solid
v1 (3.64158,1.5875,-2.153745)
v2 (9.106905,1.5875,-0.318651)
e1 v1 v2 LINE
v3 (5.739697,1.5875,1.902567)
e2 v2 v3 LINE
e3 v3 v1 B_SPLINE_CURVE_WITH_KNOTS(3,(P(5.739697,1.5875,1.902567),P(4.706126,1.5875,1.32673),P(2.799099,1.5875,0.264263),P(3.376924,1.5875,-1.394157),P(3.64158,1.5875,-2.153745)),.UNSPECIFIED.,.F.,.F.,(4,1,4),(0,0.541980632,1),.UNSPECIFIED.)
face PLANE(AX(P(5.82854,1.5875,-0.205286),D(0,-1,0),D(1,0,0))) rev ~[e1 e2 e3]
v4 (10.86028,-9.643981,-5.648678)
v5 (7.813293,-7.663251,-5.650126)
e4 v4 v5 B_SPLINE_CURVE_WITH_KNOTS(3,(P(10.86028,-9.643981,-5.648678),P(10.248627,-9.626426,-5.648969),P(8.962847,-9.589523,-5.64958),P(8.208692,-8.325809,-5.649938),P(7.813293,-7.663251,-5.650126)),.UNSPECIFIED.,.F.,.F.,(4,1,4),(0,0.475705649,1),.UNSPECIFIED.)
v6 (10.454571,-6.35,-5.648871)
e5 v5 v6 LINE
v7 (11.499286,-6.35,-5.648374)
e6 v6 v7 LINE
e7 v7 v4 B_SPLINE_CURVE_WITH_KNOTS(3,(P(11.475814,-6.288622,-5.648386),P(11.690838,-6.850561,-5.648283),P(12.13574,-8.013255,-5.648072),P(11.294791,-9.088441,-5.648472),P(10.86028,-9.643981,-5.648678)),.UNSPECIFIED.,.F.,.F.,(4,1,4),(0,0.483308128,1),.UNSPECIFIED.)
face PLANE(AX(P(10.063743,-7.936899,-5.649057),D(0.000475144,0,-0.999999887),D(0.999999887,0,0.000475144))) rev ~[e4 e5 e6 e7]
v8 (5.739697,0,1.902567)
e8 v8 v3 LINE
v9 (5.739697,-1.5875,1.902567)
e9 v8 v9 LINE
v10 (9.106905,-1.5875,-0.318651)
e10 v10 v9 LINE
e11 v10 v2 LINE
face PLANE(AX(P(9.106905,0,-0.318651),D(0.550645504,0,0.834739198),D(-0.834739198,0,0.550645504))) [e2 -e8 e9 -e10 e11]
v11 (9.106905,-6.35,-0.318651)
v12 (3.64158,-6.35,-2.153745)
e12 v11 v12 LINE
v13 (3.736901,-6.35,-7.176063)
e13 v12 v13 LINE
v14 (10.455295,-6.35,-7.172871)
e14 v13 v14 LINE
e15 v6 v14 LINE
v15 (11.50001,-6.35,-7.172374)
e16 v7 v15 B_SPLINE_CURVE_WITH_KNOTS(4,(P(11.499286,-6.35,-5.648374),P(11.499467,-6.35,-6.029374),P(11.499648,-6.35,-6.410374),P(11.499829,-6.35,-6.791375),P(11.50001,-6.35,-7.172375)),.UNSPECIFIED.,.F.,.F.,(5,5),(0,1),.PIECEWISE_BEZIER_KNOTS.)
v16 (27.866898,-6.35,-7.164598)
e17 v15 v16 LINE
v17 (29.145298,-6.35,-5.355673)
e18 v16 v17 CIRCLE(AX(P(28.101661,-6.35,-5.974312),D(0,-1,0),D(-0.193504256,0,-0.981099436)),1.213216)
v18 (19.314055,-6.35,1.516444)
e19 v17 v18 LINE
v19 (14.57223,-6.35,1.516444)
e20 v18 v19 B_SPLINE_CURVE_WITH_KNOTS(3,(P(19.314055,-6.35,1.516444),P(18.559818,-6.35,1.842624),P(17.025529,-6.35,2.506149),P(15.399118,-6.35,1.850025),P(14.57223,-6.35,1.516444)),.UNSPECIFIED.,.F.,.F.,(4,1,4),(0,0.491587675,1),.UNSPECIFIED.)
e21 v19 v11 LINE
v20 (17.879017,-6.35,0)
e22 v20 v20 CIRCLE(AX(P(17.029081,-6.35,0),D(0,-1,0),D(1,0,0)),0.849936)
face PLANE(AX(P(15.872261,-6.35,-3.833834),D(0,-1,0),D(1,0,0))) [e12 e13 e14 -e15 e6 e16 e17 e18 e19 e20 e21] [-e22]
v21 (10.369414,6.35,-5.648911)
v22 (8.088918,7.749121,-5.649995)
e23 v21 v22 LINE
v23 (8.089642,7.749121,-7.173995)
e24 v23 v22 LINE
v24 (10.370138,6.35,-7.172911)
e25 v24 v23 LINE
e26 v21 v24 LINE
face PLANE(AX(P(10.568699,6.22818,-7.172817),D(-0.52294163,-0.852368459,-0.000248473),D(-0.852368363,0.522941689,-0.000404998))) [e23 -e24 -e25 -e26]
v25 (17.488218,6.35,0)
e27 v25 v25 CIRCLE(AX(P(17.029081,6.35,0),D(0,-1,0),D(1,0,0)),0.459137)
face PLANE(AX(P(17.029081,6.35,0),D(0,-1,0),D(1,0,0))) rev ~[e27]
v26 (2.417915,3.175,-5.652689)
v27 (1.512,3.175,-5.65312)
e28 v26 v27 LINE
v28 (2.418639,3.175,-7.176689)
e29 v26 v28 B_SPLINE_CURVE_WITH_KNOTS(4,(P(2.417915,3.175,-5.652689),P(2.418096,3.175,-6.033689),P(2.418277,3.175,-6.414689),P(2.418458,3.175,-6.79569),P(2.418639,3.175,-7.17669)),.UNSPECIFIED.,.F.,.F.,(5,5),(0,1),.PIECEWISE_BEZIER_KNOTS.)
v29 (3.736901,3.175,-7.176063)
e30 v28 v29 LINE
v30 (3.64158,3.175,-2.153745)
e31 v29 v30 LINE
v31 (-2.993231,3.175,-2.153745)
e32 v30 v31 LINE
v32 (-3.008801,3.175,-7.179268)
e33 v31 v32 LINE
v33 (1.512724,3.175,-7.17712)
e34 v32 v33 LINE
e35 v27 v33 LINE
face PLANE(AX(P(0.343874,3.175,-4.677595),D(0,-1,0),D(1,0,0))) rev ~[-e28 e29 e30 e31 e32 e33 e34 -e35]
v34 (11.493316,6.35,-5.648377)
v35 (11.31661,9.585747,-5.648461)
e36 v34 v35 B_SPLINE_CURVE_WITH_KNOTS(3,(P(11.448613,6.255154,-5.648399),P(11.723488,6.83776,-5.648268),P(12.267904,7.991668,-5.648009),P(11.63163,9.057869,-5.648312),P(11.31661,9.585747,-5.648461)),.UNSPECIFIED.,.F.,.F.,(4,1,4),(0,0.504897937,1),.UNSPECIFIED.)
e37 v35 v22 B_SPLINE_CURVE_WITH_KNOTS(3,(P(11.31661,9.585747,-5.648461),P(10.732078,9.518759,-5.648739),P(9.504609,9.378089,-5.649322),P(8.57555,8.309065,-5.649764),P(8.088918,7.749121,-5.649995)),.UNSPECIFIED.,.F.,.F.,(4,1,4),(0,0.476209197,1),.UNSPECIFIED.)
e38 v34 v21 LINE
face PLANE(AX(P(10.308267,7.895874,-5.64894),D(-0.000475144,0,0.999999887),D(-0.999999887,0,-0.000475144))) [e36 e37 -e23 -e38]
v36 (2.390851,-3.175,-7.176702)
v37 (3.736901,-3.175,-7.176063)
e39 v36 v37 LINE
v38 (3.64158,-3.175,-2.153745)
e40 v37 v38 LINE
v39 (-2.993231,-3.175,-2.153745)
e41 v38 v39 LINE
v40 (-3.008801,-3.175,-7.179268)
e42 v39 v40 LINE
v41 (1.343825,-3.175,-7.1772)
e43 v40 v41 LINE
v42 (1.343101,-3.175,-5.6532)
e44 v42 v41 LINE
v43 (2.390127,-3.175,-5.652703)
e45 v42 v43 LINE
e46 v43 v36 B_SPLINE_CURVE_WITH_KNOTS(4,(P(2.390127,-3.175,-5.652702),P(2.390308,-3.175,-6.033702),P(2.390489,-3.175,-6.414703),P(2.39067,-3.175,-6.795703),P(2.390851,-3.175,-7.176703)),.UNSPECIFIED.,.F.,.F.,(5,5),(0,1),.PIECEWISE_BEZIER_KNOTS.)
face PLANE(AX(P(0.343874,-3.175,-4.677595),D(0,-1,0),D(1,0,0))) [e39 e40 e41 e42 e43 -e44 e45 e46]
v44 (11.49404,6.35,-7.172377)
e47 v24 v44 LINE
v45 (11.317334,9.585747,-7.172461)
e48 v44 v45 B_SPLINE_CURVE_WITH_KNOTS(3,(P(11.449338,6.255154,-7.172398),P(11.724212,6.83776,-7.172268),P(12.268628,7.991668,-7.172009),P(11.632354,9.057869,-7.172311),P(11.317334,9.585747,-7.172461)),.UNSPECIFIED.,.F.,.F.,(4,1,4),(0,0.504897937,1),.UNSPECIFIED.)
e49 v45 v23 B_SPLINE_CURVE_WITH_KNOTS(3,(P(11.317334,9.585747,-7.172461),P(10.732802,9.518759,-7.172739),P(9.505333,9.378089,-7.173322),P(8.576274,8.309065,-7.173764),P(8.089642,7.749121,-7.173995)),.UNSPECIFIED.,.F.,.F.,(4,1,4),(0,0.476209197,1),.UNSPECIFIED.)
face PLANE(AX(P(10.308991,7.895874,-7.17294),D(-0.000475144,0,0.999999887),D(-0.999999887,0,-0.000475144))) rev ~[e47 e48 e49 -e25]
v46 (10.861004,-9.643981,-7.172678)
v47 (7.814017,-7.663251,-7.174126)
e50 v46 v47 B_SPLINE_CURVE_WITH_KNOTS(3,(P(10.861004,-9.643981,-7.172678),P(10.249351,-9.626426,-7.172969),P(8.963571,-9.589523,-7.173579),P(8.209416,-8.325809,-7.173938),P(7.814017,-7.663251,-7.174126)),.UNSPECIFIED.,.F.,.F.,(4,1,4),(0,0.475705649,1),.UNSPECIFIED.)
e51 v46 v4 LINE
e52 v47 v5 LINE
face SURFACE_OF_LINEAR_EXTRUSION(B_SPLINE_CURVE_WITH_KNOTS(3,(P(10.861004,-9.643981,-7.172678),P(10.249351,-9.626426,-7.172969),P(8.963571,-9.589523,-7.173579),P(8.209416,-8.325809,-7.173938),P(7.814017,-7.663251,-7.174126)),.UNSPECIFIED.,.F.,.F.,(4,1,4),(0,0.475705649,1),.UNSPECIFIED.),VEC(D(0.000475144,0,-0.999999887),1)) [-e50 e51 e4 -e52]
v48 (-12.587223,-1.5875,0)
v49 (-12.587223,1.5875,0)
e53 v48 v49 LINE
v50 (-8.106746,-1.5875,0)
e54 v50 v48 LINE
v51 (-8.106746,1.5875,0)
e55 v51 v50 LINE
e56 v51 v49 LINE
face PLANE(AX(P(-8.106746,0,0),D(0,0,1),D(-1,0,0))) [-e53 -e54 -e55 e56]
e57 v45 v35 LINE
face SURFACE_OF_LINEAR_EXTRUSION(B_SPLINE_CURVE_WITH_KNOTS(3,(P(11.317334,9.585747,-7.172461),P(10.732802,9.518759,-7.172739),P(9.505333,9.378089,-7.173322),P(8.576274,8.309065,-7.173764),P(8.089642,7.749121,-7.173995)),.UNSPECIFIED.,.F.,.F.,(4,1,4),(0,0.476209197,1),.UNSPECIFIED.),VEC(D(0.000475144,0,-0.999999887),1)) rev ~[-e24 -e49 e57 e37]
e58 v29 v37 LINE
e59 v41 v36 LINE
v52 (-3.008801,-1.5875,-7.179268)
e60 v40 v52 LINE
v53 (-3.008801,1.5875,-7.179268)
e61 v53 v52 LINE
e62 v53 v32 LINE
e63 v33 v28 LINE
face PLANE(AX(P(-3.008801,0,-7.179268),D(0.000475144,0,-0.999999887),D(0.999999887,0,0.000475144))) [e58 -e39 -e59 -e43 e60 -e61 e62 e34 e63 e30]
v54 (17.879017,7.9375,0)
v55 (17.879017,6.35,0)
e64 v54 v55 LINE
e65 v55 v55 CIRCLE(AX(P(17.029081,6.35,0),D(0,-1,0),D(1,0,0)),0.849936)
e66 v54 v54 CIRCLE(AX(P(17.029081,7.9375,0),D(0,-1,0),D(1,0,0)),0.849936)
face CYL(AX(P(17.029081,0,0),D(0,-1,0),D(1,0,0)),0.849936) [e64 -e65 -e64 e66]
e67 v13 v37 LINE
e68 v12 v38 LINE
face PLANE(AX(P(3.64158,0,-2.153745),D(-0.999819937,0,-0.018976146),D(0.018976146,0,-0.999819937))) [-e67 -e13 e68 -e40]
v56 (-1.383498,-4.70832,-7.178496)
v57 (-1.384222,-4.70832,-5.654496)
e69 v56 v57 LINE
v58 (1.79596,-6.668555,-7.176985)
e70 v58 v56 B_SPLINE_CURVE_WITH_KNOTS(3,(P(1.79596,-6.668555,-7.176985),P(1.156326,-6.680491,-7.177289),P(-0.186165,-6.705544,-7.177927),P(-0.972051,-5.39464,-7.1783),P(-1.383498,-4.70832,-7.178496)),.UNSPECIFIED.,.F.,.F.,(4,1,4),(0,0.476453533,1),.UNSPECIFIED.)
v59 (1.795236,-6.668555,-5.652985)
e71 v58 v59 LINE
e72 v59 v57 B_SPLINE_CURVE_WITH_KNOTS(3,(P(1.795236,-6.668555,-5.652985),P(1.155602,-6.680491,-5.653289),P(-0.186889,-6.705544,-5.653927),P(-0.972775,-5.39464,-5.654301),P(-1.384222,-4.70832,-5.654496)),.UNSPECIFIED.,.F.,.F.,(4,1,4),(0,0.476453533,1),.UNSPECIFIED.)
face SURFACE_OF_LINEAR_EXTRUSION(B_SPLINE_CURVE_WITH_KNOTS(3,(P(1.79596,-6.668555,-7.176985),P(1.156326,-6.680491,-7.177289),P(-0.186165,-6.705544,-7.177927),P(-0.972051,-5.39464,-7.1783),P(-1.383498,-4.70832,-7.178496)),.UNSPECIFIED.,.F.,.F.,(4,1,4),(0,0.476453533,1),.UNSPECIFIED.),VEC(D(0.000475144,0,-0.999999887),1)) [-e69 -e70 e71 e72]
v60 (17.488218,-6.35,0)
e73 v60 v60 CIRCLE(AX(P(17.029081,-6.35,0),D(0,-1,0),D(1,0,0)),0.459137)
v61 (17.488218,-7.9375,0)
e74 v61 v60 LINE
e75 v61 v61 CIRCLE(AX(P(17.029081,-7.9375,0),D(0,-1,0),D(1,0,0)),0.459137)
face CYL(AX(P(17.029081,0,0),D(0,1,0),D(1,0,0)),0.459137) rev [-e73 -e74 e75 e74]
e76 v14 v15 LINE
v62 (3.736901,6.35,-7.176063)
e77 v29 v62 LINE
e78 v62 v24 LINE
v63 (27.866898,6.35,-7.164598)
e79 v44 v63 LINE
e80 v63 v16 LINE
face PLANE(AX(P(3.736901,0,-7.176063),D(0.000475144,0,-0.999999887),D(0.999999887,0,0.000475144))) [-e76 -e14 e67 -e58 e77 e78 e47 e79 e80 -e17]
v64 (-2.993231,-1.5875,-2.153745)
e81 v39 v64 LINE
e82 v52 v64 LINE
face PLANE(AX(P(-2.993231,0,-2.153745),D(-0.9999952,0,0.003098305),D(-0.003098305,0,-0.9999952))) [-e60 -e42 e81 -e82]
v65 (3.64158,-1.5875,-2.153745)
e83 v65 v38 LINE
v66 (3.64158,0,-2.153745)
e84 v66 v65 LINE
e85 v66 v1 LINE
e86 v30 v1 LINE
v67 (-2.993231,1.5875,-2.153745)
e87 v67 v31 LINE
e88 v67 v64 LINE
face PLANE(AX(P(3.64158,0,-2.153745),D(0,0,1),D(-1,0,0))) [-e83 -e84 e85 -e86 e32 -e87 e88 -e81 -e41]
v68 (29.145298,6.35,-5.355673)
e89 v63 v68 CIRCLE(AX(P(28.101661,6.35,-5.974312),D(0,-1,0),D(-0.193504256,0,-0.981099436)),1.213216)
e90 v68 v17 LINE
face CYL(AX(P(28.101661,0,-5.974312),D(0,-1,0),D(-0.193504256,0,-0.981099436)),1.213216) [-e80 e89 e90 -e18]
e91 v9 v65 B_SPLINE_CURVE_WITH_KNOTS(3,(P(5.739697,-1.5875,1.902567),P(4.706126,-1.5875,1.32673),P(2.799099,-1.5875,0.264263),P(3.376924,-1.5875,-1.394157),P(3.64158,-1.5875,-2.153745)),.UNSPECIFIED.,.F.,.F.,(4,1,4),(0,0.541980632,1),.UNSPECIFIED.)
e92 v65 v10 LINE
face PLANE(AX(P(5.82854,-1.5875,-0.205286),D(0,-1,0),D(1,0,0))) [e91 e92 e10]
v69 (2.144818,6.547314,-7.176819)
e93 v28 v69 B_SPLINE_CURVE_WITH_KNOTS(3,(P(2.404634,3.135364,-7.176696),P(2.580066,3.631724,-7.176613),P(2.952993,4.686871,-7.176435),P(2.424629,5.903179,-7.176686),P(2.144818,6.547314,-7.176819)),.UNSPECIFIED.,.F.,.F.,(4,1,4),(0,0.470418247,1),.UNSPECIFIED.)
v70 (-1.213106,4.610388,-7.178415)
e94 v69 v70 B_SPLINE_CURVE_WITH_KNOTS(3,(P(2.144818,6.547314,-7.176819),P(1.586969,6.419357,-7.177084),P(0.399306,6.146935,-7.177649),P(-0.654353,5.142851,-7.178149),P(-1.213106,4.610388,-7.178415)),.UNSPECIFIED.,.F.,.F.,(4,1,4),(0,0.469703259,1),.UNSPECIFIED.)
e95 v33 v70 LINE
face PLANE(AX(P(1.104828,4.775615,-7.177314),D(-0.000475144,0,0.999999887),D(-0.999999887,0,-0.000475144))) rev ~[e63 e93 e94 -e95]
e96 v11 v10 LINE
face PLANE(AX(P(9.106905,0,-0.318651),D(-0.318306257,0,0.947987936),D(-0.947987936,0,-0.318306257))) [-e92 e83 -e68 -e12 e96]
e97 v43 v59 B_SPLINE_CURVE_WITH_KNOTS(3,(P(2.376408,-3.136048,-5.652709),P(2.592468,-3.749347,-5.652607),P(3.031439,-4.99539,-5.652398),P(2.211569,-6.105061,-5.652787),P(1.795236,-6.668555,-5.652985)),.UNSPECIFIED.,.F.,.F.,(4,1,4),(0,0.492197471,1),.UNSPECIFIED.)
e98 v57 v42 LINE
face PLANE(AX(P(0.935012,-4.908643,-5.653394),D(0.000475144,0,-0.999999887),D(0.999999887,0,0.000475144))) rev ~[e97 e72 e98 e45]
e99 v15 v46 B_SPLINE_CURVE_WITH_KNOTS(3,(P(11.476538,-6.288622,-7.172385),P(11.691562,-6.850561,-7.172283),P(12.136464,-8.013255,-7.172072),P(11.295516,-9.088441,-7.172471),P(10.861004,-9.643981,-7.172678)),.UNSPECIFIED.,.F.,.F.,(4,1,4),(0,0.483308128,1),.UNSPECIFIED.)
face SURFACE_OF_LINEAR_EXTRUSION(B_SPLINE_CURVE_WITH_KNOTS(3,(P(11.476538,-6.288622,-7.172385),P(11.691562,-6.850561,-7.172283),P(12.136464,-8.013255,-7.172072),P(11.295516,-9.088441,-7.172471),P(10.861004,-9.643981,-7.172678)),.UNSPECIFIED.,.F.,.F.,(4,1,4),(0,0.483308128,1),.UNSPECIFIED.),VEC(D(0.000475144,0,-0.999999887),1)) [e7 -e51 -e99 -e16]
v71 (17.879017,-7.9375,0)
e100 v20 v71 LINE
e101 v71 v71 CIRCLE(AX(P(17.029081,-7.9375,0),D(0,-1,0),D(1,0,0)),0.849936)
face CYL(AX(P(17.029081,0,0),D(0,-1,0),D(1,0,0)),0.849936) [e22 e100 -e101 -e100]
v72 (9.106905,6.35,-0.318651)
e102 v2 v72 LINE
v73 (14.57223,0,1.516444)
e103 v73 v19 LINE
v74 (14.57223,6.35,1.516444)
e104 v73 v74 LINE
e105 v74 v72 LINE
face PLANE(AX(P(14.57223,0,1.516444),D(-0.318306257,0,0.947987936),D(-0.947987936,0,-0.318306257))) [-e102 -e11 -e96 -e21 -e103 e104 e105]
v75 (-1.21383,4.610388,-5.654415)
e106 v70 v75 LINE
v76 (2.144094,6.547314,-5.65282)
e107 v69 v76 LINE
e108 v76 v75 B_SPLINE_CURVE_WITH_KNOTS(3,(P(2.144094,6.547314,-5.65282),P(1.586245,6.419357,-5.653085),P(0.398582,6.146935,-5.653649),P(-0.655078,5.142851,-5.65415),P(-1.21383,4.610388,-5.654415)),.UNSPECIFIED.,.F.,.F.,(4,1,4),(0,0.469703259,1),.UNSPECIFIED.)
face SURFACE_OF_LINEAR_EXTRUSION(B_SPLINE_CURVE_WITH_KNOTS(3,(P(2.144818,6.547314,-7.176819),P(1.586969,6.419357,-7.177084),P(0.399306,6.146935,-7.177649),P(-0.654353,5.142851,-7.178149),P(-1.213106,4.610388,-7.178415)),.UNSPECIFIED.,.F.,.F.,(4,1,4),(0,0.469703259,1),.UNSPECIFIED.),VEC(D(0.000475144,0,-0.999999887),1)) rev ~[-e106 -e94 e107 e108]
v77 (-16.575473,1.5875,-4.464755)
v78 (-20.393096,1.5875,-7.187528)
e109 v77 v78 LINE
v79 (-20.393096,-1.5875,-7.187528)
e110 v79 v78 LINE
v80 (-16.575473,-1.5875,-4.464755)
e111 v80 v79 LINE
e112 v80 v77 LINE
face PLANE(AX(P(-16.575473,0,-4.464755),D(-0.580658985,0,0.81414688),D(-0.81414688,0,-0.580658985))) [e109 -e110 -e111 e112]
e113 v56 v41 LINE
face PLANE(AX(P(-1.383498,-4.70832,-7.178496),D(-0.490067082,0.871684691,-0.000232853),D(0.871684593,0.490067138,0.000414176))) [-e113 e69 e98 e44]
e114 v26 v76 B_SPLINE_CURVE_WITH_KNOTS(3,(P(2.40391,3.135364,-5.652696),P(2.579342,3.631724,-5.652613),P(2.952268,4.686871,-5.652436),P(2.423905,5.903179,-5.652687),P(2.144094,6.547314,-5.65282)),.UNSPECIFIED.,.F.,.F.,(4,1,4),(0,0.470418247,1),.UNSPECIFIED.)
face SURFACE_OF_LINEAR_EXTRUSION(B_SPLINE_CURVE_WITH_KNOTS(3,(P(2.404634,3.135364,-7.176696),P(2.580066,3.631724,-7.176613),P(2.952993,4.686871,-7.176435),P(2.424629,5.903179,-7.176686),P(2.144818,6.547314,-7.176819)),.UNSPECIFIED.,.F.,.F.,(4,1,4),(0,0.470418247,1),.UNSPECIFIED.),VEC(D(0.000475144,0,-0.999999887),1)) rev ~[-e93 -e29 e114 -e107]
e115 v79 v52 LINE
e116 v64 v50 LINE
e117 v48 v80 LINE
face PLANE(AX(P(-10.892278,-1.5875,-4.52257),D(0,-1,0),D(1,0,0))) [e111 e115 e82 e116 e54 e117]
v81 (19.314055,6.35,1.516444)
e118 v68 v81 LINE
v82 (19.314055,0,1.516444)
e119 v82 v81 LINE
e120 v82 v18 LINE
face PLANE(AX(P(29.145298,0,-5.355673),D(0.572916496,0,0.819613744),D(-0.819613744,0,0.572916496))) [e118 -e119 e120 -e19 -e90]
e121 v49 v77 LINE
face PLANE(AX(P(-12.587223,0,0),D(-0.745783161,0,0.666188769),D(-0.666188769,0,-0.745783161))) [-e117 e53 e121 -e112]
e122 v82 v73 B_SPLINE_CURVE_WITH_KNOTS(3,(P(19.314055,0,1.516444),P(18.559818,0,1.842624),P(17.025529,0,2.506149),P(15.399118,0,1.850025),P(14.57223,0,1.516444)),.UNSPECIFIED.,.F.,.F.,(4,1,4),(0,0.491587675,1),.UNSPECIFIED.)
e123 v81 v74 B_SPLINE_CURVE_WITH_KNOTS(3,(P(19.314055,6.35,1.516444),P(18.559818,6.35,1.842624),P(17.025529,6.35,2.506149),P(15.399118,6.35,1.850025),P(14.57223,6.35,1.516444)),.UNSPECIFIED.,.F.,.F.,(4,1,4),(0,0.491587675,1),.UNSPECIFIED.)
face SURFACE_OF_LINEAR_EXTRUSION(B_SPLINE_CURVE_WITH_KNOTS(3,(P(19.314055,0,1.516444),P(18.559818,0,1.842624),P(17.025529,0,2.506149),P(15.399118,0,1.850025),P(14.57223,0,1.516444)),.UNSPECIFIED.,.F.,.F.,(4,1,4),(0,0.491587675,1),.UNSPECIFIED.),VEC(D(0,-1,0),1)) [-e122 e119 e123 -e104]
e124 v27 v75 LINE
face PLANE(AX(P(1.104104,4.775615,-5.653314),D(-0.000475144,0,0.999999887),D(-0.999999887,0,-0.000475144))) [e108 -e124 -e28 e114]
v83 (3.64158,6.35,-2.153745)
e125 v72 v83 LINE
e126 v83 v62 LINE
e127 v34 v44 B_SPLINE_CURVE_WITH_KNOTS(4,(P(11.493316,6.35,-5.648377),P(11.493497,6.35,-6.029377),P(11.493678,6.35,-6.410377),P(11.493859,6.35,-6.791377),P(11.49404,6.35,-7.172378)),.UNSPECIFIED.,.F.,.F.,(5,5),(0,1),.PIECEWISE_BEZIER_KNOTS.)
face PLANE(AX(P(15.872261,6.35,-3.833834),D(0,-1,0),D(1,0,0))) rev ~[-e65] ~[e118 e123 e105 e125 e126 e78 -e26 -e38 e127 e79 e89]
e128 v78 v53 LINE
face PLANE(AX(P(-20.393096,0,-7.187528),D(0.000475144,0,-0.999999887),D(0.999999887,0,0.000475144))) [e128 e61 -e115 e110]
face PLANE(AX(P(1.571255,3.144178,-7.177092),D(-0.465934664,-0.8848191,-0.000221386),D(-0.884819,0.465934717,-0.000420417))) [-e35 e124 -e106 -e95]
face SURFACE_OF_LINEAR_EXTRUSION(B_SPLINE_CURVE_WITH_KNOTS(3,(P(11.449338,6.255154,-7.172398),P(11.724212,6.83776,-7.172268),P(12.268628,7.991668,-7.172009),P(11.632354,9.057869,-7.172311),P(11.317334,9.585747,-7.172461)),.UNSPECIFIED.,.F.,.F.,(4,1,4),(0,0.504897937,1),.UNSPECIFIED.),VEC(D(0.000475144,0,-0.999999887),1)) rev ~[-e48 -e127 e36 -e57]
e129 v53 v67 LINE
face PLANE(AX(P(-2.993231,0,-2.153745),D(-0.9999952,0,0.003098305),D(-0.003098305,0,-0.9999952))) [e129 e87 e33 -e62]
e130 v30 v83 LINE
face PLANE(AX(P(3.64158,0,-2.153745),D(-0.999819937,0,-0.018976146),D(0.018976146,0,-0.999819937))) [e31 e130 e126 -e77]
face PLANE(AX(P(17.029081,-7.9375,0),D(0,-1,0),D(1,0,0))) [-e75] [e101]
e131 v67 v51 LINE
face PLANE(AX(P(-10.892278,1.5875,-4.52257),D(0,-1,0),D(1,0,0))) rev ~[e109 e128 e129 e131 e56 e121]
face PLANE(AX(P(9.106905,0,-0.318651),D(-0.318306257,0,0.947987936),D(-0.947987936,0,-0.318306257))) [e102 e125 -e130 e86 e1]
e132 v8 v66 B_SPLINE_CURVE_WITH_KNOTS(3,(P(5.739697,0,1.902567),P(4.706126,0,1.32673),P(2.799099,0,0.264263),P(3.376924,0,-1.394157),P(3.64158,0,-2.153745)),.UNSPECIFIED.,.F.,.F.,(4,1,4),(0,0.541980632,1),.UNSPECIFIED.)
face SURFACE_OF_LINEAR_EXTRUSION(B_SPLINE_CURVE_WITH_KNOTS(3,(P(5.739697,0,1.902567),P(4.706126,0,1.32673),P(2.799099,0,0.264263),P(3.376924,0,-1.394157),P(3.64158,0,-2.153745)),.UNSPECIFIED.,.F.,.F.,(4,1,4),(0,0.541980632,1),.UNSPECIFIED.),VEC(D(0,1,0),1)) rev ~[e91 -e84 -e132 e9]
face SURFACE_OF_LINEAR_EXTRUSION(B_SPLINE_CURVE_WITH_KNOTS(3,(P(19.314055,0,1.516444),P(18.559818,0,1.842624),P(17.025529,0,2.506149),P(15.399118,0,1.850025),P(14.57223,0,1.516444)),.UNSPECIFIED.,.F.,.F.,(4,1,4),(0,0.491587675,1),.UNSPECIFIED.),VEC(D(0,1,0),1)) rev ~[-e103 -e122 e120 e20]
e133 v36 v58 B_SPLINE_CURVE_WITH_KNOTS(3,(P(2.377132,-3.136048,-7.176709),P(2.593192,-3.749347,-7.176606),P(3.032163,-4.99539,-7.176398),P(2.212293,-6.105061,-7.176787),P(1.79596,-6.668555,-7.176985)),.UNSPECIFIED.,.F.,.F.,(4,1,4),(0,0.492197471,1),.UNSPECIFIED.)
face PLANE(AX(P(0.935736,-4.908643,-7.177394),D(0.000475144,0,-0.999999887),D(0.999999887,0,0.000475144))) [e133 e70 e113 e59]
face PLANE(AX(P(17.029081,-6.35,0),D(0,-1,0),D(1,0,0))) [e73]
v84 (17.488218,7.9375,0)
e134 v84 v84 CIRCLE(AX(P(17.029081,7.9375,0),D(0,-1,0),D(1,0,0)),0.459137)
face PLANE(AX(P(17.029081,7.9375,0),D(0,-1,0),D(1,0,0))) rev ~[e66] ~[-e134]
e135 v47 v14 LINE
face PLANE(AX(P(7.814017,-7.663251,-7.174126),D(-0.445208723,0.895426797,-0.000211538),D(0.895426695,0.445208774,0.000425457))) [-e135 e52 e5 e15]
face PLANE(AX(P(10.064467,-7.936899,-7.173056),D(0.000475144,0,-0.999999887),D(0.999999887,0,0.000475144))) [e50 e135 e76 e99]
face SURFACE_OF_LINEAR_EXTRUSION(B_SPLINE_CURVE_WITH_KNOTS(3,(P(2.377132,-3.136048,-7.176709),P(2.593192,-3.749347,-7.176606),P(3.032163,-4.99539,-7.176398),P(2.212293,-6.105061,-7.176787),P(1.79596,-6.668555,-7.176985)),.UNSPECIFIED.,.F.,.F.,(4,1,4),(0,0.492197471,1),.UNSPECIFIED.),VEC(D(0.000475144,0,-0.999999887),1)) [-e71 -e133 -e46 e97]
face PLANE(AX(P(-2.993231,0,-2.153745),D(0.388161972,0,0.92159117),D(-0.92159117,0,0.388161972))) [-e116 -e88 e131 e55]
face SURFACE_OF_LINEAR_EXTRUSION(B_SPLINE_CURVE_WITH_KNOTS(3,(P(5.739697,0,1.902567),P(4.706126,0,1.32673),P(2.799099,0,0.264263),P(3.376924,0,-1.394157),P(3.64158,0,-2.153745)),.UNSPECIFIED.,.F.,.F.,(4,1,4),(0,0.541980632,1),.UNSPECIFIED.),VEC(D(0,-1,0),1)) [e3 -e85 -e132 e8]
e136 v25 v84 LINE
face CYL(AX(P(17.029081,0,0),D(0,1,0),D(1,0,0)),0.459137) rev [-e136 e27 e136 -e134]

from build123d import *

# Parameters (mm, degrees)
F0_R     = 0.8499357061
F1_DEPTH = 6.35
F2_DEPTH = 3.175
F3_DEPTH = 1.5875
F4_DEPTH = 1.5875
F0_R_2   = 0.4591365961
F5_DEPTH = 7.9375
F6_DEPTH = 6.35
F9_DEPTH = 1.524


with BuildPart() as f1:
    # F0 (on Front) → F1 (new body, symmetric)
    with BuildSketch(Plane.XZ):
        with BuildLine():
            Line((3.7369009076, -7.1760629105), (27.8668981838, -7.1645976751))
            ThreePointArc((27.8668981838, -7.1645976751), (29.0924289966, -6.6745059956), (29.1452982829, -5.3556730016))
            Line((29.1452982829, -5.3556730016), (19.3140551537, 1.5164437805))
            add(Edge.make_bspline(
                [(19.3140551537, 1.5164437805), (18.5598178705, 1.842624393), (17.0255294285, 2.5061492361), (15.3991179845, 1.8500253214), (14.5722303488, 1.5164437805)],
                knots=[0, 0, 0, 0, 0.4915876753, 1, 1, 1, 1], degree=3))
            Line((14.5722303488, 1.5164437805), (9.1069049254, -0.31865054))
            Line((9.1069049254, -0.31865054), (3.641579502, -2.1537448606))
            Line((3.641579502, -2.1537448606), (3.7369009076, -7.1760629105))
        make_face()
        with Locations((17.0290809923, 0)):
            Circle(F0_R, mode=Mode.SUBTRACT)
    extrude(amount=F1_DEPTH, both=True)

    # F0 (on Front) → F2 (join, symmetric)
    with BuildSketch(Plane.XZ):
        Polygon((-3.0088014841, -7.1792680938), (3.7369009076, -7.1760629105), (3.641579502, -2.1537448606), (-2.9932308073, -2.1537448606), align=None)
    extrude(amount=F2_DEPTH, both=True)

    # F0 (on Front) → F3 (join, symmetric)
    with BuildSketch(Plane.XZ):
        Polygon((-20.3930963686, -7.1875281459), (-3.0088014841, -7.1792680938), (-2.9932308073, -2.1537448606), (-8.1067462721, 0), (-12.5872229892, 0), (-16.5754726262, -4.4647546742), align=None)
    extrude(amount=F3_DEPTH, both=True)

    # F0 (on Front) → F4 (join, symmetric)
    with BuildSketch(Plane.XZ):
        with BuildLine():
            add(Edge.make_bspline(
                [(5.739697431, 1.9025673836), (4.7061257381, 1.3267304785), (2.7990985393, 0.2642627845), (3.3769243884, -1.3941566443), (3.641579502, -2.1537448606)],
                knots=[0, 0, 0, 0, 0.5419806321, 1, 1, 1, 1], degree=3))
            Line((3.641579502, -2.1537448606), (9.1069049254, -0.31865054))
            Line((9.1069049254, -0.31865054), (5.739697431, 1.9025673836))
        make_face()
    extrude(amount=F4_DEPTH, both=True)

    # F0 (on Front) → F5 (join, symmetric)
    with BuildSketch(Plane.XZ):
        with Locations((17.0290809923, 0)):
            Circle(F0_R)
        with Locations((17.0290809923, 0)):
            Circle(F0_R_2, mode=Mode.SUBTRACT)
    extrude(amount=F5_DEPTH, both=True)

    # F0 (on Front) → F6 (join, symmetric)
    with BuildSketch(Plane.XZ):
        with Locations((17.0290809923, 0)):
            Circle(F0_R_2)
    extrude(amount=F6_DEPTH, both=True)

    # F8 (on offset) → F9 (join)
    with BuildSketch(Plane(origin=(0.0034105097, 0, -7.1778368579), x_dir=(0.9999998871, 0, 0.0004751444), z_dir=(0.0004751444, 0, -0.9999998871))):
        with BuildLine():
            Line((10.5719827116, 6.2902872451), (11.4731285721, 6.2886215746))
            add(Edge.make_bspline(
                [(11.4731285721, 6.2886215746), (11.6881530578, 6.8505612185), (12.1330545046, 8.0132553954), (11.2921062686, 9.0884414112), (10.8575951308, 9.6439812332)],
                knots=[0, 0, 0, 0, 0.483308128, 1, 1, 1, 1], degree=3))
            add(Edge.make_bspline(
                [(10.8575951308, 9.6439812332), (10.2459421425, 9.6264263255), (8.9601619026, 9.5895234992), (8.2060067921, 8.3258092197), (7.8106075525, 7.6632509008)],
                knots=[0, 0, 0, 0, 0.4757056489, 1, 1, 1, 1], degree=3))
            Line((7.8106075525, 7.6632509008), (10.5719827116, 6.2902872451))
        make_face()
        with BuildLine():
            add(Edge.make_bspline(
                [(11.445928365, -6.2551540323), (11.7208028901, -6.8377598255), (12.2652189582, -7.9916679237), (11.6289449799, -9.0578690758), (11.3139245659, -9.5857474953)],
                knots=[0, 0, 0, 0, 0.5048979368, 1, 1, 1, 1], degree=3))
            Line((11.445928365, -6.2551540323), (10.5652892962, -6.2281796709))
            Line((10.5652892962, -6.2281796709), (8.0862324685, -7.7491207048))
            add(Edge.make_bspline(
                [(11.3139245659, -9.5857474953), (10.7293926361, -9.5187590976), (9.5019236971, -9.3780889543), (8.572864944, -8.3090653448), (8.0862324685, -7.7491207048)],
                knots=[0, 0, 0, 0, 0.4762091973, 1, 1, 1, 1], degree=3))
        make_face()
        with BuildLine():
            add(Edge.make_bspline(
                [(2.4012238719, -3.135364037), (2.5766554897, -3.6317241258), (2.9495824062, -4.6868706955), (2.4212189682, -5.9031792319), (2.1414074581, -6.5473141149)],
                knots=[0, 0, 0, 0, 0.4704182467, 1, 1, 1, 1], degree=3))
            Line((2.4012238719, -3.135364037), (1.5678445343, -3.1441783067))
            Line((1.5678445343, -3.1441783067), (-1.2165163644, -4.6103880741))
            add(Edge.make_bspline(
                [(2.1414074581, -6.5473141149), (1.5835583581, -6.4193566225), (0.3958954029, -6.1469346133), (-0.6577640532, -5.1428505543), (-1.2165163644, -4.6103880741)],
                knots=[0, 0, 0, 0, 0.4697032587, 1, 1, 1, 1], degree=3))
        make_face()
        with BuildLine():
            Line((1.3515800238, 3.1687226146), (2.3737214506, 3.1360480934))
            add(Edge.make_bspline(
                [(2.3737214506, 3.1360480934), (2.5897819708, 3.7493472374), (3.0287531003, 4.9953902449), (2.2088825996, 6.1050612637), (1.792550087, 6.6685550846)],
                knots=[0, 0, 0, 0, 0.4921974706, 1, 1, 1, 1], degree=3))
            add(Edge.make_bspline(
                [(1.792550087, 6.6685550846), (1.1529153889, 6.6804914863), (-0.1895757498, 6.7055440354), (-0.9754613011, 5.3946395707), (-1.3869088143, 4.7083199024)],
                knots=[0, 0, 0, 0, 0.4764535334, 1, 1, 1, 1], degree=3))
            Line((-1.3869088143, 4.7083199024), (1.3515800238, 3.1687226146))
        make_face()
    extrude(amount=-F9_DEPTH)


solid = f1.part
